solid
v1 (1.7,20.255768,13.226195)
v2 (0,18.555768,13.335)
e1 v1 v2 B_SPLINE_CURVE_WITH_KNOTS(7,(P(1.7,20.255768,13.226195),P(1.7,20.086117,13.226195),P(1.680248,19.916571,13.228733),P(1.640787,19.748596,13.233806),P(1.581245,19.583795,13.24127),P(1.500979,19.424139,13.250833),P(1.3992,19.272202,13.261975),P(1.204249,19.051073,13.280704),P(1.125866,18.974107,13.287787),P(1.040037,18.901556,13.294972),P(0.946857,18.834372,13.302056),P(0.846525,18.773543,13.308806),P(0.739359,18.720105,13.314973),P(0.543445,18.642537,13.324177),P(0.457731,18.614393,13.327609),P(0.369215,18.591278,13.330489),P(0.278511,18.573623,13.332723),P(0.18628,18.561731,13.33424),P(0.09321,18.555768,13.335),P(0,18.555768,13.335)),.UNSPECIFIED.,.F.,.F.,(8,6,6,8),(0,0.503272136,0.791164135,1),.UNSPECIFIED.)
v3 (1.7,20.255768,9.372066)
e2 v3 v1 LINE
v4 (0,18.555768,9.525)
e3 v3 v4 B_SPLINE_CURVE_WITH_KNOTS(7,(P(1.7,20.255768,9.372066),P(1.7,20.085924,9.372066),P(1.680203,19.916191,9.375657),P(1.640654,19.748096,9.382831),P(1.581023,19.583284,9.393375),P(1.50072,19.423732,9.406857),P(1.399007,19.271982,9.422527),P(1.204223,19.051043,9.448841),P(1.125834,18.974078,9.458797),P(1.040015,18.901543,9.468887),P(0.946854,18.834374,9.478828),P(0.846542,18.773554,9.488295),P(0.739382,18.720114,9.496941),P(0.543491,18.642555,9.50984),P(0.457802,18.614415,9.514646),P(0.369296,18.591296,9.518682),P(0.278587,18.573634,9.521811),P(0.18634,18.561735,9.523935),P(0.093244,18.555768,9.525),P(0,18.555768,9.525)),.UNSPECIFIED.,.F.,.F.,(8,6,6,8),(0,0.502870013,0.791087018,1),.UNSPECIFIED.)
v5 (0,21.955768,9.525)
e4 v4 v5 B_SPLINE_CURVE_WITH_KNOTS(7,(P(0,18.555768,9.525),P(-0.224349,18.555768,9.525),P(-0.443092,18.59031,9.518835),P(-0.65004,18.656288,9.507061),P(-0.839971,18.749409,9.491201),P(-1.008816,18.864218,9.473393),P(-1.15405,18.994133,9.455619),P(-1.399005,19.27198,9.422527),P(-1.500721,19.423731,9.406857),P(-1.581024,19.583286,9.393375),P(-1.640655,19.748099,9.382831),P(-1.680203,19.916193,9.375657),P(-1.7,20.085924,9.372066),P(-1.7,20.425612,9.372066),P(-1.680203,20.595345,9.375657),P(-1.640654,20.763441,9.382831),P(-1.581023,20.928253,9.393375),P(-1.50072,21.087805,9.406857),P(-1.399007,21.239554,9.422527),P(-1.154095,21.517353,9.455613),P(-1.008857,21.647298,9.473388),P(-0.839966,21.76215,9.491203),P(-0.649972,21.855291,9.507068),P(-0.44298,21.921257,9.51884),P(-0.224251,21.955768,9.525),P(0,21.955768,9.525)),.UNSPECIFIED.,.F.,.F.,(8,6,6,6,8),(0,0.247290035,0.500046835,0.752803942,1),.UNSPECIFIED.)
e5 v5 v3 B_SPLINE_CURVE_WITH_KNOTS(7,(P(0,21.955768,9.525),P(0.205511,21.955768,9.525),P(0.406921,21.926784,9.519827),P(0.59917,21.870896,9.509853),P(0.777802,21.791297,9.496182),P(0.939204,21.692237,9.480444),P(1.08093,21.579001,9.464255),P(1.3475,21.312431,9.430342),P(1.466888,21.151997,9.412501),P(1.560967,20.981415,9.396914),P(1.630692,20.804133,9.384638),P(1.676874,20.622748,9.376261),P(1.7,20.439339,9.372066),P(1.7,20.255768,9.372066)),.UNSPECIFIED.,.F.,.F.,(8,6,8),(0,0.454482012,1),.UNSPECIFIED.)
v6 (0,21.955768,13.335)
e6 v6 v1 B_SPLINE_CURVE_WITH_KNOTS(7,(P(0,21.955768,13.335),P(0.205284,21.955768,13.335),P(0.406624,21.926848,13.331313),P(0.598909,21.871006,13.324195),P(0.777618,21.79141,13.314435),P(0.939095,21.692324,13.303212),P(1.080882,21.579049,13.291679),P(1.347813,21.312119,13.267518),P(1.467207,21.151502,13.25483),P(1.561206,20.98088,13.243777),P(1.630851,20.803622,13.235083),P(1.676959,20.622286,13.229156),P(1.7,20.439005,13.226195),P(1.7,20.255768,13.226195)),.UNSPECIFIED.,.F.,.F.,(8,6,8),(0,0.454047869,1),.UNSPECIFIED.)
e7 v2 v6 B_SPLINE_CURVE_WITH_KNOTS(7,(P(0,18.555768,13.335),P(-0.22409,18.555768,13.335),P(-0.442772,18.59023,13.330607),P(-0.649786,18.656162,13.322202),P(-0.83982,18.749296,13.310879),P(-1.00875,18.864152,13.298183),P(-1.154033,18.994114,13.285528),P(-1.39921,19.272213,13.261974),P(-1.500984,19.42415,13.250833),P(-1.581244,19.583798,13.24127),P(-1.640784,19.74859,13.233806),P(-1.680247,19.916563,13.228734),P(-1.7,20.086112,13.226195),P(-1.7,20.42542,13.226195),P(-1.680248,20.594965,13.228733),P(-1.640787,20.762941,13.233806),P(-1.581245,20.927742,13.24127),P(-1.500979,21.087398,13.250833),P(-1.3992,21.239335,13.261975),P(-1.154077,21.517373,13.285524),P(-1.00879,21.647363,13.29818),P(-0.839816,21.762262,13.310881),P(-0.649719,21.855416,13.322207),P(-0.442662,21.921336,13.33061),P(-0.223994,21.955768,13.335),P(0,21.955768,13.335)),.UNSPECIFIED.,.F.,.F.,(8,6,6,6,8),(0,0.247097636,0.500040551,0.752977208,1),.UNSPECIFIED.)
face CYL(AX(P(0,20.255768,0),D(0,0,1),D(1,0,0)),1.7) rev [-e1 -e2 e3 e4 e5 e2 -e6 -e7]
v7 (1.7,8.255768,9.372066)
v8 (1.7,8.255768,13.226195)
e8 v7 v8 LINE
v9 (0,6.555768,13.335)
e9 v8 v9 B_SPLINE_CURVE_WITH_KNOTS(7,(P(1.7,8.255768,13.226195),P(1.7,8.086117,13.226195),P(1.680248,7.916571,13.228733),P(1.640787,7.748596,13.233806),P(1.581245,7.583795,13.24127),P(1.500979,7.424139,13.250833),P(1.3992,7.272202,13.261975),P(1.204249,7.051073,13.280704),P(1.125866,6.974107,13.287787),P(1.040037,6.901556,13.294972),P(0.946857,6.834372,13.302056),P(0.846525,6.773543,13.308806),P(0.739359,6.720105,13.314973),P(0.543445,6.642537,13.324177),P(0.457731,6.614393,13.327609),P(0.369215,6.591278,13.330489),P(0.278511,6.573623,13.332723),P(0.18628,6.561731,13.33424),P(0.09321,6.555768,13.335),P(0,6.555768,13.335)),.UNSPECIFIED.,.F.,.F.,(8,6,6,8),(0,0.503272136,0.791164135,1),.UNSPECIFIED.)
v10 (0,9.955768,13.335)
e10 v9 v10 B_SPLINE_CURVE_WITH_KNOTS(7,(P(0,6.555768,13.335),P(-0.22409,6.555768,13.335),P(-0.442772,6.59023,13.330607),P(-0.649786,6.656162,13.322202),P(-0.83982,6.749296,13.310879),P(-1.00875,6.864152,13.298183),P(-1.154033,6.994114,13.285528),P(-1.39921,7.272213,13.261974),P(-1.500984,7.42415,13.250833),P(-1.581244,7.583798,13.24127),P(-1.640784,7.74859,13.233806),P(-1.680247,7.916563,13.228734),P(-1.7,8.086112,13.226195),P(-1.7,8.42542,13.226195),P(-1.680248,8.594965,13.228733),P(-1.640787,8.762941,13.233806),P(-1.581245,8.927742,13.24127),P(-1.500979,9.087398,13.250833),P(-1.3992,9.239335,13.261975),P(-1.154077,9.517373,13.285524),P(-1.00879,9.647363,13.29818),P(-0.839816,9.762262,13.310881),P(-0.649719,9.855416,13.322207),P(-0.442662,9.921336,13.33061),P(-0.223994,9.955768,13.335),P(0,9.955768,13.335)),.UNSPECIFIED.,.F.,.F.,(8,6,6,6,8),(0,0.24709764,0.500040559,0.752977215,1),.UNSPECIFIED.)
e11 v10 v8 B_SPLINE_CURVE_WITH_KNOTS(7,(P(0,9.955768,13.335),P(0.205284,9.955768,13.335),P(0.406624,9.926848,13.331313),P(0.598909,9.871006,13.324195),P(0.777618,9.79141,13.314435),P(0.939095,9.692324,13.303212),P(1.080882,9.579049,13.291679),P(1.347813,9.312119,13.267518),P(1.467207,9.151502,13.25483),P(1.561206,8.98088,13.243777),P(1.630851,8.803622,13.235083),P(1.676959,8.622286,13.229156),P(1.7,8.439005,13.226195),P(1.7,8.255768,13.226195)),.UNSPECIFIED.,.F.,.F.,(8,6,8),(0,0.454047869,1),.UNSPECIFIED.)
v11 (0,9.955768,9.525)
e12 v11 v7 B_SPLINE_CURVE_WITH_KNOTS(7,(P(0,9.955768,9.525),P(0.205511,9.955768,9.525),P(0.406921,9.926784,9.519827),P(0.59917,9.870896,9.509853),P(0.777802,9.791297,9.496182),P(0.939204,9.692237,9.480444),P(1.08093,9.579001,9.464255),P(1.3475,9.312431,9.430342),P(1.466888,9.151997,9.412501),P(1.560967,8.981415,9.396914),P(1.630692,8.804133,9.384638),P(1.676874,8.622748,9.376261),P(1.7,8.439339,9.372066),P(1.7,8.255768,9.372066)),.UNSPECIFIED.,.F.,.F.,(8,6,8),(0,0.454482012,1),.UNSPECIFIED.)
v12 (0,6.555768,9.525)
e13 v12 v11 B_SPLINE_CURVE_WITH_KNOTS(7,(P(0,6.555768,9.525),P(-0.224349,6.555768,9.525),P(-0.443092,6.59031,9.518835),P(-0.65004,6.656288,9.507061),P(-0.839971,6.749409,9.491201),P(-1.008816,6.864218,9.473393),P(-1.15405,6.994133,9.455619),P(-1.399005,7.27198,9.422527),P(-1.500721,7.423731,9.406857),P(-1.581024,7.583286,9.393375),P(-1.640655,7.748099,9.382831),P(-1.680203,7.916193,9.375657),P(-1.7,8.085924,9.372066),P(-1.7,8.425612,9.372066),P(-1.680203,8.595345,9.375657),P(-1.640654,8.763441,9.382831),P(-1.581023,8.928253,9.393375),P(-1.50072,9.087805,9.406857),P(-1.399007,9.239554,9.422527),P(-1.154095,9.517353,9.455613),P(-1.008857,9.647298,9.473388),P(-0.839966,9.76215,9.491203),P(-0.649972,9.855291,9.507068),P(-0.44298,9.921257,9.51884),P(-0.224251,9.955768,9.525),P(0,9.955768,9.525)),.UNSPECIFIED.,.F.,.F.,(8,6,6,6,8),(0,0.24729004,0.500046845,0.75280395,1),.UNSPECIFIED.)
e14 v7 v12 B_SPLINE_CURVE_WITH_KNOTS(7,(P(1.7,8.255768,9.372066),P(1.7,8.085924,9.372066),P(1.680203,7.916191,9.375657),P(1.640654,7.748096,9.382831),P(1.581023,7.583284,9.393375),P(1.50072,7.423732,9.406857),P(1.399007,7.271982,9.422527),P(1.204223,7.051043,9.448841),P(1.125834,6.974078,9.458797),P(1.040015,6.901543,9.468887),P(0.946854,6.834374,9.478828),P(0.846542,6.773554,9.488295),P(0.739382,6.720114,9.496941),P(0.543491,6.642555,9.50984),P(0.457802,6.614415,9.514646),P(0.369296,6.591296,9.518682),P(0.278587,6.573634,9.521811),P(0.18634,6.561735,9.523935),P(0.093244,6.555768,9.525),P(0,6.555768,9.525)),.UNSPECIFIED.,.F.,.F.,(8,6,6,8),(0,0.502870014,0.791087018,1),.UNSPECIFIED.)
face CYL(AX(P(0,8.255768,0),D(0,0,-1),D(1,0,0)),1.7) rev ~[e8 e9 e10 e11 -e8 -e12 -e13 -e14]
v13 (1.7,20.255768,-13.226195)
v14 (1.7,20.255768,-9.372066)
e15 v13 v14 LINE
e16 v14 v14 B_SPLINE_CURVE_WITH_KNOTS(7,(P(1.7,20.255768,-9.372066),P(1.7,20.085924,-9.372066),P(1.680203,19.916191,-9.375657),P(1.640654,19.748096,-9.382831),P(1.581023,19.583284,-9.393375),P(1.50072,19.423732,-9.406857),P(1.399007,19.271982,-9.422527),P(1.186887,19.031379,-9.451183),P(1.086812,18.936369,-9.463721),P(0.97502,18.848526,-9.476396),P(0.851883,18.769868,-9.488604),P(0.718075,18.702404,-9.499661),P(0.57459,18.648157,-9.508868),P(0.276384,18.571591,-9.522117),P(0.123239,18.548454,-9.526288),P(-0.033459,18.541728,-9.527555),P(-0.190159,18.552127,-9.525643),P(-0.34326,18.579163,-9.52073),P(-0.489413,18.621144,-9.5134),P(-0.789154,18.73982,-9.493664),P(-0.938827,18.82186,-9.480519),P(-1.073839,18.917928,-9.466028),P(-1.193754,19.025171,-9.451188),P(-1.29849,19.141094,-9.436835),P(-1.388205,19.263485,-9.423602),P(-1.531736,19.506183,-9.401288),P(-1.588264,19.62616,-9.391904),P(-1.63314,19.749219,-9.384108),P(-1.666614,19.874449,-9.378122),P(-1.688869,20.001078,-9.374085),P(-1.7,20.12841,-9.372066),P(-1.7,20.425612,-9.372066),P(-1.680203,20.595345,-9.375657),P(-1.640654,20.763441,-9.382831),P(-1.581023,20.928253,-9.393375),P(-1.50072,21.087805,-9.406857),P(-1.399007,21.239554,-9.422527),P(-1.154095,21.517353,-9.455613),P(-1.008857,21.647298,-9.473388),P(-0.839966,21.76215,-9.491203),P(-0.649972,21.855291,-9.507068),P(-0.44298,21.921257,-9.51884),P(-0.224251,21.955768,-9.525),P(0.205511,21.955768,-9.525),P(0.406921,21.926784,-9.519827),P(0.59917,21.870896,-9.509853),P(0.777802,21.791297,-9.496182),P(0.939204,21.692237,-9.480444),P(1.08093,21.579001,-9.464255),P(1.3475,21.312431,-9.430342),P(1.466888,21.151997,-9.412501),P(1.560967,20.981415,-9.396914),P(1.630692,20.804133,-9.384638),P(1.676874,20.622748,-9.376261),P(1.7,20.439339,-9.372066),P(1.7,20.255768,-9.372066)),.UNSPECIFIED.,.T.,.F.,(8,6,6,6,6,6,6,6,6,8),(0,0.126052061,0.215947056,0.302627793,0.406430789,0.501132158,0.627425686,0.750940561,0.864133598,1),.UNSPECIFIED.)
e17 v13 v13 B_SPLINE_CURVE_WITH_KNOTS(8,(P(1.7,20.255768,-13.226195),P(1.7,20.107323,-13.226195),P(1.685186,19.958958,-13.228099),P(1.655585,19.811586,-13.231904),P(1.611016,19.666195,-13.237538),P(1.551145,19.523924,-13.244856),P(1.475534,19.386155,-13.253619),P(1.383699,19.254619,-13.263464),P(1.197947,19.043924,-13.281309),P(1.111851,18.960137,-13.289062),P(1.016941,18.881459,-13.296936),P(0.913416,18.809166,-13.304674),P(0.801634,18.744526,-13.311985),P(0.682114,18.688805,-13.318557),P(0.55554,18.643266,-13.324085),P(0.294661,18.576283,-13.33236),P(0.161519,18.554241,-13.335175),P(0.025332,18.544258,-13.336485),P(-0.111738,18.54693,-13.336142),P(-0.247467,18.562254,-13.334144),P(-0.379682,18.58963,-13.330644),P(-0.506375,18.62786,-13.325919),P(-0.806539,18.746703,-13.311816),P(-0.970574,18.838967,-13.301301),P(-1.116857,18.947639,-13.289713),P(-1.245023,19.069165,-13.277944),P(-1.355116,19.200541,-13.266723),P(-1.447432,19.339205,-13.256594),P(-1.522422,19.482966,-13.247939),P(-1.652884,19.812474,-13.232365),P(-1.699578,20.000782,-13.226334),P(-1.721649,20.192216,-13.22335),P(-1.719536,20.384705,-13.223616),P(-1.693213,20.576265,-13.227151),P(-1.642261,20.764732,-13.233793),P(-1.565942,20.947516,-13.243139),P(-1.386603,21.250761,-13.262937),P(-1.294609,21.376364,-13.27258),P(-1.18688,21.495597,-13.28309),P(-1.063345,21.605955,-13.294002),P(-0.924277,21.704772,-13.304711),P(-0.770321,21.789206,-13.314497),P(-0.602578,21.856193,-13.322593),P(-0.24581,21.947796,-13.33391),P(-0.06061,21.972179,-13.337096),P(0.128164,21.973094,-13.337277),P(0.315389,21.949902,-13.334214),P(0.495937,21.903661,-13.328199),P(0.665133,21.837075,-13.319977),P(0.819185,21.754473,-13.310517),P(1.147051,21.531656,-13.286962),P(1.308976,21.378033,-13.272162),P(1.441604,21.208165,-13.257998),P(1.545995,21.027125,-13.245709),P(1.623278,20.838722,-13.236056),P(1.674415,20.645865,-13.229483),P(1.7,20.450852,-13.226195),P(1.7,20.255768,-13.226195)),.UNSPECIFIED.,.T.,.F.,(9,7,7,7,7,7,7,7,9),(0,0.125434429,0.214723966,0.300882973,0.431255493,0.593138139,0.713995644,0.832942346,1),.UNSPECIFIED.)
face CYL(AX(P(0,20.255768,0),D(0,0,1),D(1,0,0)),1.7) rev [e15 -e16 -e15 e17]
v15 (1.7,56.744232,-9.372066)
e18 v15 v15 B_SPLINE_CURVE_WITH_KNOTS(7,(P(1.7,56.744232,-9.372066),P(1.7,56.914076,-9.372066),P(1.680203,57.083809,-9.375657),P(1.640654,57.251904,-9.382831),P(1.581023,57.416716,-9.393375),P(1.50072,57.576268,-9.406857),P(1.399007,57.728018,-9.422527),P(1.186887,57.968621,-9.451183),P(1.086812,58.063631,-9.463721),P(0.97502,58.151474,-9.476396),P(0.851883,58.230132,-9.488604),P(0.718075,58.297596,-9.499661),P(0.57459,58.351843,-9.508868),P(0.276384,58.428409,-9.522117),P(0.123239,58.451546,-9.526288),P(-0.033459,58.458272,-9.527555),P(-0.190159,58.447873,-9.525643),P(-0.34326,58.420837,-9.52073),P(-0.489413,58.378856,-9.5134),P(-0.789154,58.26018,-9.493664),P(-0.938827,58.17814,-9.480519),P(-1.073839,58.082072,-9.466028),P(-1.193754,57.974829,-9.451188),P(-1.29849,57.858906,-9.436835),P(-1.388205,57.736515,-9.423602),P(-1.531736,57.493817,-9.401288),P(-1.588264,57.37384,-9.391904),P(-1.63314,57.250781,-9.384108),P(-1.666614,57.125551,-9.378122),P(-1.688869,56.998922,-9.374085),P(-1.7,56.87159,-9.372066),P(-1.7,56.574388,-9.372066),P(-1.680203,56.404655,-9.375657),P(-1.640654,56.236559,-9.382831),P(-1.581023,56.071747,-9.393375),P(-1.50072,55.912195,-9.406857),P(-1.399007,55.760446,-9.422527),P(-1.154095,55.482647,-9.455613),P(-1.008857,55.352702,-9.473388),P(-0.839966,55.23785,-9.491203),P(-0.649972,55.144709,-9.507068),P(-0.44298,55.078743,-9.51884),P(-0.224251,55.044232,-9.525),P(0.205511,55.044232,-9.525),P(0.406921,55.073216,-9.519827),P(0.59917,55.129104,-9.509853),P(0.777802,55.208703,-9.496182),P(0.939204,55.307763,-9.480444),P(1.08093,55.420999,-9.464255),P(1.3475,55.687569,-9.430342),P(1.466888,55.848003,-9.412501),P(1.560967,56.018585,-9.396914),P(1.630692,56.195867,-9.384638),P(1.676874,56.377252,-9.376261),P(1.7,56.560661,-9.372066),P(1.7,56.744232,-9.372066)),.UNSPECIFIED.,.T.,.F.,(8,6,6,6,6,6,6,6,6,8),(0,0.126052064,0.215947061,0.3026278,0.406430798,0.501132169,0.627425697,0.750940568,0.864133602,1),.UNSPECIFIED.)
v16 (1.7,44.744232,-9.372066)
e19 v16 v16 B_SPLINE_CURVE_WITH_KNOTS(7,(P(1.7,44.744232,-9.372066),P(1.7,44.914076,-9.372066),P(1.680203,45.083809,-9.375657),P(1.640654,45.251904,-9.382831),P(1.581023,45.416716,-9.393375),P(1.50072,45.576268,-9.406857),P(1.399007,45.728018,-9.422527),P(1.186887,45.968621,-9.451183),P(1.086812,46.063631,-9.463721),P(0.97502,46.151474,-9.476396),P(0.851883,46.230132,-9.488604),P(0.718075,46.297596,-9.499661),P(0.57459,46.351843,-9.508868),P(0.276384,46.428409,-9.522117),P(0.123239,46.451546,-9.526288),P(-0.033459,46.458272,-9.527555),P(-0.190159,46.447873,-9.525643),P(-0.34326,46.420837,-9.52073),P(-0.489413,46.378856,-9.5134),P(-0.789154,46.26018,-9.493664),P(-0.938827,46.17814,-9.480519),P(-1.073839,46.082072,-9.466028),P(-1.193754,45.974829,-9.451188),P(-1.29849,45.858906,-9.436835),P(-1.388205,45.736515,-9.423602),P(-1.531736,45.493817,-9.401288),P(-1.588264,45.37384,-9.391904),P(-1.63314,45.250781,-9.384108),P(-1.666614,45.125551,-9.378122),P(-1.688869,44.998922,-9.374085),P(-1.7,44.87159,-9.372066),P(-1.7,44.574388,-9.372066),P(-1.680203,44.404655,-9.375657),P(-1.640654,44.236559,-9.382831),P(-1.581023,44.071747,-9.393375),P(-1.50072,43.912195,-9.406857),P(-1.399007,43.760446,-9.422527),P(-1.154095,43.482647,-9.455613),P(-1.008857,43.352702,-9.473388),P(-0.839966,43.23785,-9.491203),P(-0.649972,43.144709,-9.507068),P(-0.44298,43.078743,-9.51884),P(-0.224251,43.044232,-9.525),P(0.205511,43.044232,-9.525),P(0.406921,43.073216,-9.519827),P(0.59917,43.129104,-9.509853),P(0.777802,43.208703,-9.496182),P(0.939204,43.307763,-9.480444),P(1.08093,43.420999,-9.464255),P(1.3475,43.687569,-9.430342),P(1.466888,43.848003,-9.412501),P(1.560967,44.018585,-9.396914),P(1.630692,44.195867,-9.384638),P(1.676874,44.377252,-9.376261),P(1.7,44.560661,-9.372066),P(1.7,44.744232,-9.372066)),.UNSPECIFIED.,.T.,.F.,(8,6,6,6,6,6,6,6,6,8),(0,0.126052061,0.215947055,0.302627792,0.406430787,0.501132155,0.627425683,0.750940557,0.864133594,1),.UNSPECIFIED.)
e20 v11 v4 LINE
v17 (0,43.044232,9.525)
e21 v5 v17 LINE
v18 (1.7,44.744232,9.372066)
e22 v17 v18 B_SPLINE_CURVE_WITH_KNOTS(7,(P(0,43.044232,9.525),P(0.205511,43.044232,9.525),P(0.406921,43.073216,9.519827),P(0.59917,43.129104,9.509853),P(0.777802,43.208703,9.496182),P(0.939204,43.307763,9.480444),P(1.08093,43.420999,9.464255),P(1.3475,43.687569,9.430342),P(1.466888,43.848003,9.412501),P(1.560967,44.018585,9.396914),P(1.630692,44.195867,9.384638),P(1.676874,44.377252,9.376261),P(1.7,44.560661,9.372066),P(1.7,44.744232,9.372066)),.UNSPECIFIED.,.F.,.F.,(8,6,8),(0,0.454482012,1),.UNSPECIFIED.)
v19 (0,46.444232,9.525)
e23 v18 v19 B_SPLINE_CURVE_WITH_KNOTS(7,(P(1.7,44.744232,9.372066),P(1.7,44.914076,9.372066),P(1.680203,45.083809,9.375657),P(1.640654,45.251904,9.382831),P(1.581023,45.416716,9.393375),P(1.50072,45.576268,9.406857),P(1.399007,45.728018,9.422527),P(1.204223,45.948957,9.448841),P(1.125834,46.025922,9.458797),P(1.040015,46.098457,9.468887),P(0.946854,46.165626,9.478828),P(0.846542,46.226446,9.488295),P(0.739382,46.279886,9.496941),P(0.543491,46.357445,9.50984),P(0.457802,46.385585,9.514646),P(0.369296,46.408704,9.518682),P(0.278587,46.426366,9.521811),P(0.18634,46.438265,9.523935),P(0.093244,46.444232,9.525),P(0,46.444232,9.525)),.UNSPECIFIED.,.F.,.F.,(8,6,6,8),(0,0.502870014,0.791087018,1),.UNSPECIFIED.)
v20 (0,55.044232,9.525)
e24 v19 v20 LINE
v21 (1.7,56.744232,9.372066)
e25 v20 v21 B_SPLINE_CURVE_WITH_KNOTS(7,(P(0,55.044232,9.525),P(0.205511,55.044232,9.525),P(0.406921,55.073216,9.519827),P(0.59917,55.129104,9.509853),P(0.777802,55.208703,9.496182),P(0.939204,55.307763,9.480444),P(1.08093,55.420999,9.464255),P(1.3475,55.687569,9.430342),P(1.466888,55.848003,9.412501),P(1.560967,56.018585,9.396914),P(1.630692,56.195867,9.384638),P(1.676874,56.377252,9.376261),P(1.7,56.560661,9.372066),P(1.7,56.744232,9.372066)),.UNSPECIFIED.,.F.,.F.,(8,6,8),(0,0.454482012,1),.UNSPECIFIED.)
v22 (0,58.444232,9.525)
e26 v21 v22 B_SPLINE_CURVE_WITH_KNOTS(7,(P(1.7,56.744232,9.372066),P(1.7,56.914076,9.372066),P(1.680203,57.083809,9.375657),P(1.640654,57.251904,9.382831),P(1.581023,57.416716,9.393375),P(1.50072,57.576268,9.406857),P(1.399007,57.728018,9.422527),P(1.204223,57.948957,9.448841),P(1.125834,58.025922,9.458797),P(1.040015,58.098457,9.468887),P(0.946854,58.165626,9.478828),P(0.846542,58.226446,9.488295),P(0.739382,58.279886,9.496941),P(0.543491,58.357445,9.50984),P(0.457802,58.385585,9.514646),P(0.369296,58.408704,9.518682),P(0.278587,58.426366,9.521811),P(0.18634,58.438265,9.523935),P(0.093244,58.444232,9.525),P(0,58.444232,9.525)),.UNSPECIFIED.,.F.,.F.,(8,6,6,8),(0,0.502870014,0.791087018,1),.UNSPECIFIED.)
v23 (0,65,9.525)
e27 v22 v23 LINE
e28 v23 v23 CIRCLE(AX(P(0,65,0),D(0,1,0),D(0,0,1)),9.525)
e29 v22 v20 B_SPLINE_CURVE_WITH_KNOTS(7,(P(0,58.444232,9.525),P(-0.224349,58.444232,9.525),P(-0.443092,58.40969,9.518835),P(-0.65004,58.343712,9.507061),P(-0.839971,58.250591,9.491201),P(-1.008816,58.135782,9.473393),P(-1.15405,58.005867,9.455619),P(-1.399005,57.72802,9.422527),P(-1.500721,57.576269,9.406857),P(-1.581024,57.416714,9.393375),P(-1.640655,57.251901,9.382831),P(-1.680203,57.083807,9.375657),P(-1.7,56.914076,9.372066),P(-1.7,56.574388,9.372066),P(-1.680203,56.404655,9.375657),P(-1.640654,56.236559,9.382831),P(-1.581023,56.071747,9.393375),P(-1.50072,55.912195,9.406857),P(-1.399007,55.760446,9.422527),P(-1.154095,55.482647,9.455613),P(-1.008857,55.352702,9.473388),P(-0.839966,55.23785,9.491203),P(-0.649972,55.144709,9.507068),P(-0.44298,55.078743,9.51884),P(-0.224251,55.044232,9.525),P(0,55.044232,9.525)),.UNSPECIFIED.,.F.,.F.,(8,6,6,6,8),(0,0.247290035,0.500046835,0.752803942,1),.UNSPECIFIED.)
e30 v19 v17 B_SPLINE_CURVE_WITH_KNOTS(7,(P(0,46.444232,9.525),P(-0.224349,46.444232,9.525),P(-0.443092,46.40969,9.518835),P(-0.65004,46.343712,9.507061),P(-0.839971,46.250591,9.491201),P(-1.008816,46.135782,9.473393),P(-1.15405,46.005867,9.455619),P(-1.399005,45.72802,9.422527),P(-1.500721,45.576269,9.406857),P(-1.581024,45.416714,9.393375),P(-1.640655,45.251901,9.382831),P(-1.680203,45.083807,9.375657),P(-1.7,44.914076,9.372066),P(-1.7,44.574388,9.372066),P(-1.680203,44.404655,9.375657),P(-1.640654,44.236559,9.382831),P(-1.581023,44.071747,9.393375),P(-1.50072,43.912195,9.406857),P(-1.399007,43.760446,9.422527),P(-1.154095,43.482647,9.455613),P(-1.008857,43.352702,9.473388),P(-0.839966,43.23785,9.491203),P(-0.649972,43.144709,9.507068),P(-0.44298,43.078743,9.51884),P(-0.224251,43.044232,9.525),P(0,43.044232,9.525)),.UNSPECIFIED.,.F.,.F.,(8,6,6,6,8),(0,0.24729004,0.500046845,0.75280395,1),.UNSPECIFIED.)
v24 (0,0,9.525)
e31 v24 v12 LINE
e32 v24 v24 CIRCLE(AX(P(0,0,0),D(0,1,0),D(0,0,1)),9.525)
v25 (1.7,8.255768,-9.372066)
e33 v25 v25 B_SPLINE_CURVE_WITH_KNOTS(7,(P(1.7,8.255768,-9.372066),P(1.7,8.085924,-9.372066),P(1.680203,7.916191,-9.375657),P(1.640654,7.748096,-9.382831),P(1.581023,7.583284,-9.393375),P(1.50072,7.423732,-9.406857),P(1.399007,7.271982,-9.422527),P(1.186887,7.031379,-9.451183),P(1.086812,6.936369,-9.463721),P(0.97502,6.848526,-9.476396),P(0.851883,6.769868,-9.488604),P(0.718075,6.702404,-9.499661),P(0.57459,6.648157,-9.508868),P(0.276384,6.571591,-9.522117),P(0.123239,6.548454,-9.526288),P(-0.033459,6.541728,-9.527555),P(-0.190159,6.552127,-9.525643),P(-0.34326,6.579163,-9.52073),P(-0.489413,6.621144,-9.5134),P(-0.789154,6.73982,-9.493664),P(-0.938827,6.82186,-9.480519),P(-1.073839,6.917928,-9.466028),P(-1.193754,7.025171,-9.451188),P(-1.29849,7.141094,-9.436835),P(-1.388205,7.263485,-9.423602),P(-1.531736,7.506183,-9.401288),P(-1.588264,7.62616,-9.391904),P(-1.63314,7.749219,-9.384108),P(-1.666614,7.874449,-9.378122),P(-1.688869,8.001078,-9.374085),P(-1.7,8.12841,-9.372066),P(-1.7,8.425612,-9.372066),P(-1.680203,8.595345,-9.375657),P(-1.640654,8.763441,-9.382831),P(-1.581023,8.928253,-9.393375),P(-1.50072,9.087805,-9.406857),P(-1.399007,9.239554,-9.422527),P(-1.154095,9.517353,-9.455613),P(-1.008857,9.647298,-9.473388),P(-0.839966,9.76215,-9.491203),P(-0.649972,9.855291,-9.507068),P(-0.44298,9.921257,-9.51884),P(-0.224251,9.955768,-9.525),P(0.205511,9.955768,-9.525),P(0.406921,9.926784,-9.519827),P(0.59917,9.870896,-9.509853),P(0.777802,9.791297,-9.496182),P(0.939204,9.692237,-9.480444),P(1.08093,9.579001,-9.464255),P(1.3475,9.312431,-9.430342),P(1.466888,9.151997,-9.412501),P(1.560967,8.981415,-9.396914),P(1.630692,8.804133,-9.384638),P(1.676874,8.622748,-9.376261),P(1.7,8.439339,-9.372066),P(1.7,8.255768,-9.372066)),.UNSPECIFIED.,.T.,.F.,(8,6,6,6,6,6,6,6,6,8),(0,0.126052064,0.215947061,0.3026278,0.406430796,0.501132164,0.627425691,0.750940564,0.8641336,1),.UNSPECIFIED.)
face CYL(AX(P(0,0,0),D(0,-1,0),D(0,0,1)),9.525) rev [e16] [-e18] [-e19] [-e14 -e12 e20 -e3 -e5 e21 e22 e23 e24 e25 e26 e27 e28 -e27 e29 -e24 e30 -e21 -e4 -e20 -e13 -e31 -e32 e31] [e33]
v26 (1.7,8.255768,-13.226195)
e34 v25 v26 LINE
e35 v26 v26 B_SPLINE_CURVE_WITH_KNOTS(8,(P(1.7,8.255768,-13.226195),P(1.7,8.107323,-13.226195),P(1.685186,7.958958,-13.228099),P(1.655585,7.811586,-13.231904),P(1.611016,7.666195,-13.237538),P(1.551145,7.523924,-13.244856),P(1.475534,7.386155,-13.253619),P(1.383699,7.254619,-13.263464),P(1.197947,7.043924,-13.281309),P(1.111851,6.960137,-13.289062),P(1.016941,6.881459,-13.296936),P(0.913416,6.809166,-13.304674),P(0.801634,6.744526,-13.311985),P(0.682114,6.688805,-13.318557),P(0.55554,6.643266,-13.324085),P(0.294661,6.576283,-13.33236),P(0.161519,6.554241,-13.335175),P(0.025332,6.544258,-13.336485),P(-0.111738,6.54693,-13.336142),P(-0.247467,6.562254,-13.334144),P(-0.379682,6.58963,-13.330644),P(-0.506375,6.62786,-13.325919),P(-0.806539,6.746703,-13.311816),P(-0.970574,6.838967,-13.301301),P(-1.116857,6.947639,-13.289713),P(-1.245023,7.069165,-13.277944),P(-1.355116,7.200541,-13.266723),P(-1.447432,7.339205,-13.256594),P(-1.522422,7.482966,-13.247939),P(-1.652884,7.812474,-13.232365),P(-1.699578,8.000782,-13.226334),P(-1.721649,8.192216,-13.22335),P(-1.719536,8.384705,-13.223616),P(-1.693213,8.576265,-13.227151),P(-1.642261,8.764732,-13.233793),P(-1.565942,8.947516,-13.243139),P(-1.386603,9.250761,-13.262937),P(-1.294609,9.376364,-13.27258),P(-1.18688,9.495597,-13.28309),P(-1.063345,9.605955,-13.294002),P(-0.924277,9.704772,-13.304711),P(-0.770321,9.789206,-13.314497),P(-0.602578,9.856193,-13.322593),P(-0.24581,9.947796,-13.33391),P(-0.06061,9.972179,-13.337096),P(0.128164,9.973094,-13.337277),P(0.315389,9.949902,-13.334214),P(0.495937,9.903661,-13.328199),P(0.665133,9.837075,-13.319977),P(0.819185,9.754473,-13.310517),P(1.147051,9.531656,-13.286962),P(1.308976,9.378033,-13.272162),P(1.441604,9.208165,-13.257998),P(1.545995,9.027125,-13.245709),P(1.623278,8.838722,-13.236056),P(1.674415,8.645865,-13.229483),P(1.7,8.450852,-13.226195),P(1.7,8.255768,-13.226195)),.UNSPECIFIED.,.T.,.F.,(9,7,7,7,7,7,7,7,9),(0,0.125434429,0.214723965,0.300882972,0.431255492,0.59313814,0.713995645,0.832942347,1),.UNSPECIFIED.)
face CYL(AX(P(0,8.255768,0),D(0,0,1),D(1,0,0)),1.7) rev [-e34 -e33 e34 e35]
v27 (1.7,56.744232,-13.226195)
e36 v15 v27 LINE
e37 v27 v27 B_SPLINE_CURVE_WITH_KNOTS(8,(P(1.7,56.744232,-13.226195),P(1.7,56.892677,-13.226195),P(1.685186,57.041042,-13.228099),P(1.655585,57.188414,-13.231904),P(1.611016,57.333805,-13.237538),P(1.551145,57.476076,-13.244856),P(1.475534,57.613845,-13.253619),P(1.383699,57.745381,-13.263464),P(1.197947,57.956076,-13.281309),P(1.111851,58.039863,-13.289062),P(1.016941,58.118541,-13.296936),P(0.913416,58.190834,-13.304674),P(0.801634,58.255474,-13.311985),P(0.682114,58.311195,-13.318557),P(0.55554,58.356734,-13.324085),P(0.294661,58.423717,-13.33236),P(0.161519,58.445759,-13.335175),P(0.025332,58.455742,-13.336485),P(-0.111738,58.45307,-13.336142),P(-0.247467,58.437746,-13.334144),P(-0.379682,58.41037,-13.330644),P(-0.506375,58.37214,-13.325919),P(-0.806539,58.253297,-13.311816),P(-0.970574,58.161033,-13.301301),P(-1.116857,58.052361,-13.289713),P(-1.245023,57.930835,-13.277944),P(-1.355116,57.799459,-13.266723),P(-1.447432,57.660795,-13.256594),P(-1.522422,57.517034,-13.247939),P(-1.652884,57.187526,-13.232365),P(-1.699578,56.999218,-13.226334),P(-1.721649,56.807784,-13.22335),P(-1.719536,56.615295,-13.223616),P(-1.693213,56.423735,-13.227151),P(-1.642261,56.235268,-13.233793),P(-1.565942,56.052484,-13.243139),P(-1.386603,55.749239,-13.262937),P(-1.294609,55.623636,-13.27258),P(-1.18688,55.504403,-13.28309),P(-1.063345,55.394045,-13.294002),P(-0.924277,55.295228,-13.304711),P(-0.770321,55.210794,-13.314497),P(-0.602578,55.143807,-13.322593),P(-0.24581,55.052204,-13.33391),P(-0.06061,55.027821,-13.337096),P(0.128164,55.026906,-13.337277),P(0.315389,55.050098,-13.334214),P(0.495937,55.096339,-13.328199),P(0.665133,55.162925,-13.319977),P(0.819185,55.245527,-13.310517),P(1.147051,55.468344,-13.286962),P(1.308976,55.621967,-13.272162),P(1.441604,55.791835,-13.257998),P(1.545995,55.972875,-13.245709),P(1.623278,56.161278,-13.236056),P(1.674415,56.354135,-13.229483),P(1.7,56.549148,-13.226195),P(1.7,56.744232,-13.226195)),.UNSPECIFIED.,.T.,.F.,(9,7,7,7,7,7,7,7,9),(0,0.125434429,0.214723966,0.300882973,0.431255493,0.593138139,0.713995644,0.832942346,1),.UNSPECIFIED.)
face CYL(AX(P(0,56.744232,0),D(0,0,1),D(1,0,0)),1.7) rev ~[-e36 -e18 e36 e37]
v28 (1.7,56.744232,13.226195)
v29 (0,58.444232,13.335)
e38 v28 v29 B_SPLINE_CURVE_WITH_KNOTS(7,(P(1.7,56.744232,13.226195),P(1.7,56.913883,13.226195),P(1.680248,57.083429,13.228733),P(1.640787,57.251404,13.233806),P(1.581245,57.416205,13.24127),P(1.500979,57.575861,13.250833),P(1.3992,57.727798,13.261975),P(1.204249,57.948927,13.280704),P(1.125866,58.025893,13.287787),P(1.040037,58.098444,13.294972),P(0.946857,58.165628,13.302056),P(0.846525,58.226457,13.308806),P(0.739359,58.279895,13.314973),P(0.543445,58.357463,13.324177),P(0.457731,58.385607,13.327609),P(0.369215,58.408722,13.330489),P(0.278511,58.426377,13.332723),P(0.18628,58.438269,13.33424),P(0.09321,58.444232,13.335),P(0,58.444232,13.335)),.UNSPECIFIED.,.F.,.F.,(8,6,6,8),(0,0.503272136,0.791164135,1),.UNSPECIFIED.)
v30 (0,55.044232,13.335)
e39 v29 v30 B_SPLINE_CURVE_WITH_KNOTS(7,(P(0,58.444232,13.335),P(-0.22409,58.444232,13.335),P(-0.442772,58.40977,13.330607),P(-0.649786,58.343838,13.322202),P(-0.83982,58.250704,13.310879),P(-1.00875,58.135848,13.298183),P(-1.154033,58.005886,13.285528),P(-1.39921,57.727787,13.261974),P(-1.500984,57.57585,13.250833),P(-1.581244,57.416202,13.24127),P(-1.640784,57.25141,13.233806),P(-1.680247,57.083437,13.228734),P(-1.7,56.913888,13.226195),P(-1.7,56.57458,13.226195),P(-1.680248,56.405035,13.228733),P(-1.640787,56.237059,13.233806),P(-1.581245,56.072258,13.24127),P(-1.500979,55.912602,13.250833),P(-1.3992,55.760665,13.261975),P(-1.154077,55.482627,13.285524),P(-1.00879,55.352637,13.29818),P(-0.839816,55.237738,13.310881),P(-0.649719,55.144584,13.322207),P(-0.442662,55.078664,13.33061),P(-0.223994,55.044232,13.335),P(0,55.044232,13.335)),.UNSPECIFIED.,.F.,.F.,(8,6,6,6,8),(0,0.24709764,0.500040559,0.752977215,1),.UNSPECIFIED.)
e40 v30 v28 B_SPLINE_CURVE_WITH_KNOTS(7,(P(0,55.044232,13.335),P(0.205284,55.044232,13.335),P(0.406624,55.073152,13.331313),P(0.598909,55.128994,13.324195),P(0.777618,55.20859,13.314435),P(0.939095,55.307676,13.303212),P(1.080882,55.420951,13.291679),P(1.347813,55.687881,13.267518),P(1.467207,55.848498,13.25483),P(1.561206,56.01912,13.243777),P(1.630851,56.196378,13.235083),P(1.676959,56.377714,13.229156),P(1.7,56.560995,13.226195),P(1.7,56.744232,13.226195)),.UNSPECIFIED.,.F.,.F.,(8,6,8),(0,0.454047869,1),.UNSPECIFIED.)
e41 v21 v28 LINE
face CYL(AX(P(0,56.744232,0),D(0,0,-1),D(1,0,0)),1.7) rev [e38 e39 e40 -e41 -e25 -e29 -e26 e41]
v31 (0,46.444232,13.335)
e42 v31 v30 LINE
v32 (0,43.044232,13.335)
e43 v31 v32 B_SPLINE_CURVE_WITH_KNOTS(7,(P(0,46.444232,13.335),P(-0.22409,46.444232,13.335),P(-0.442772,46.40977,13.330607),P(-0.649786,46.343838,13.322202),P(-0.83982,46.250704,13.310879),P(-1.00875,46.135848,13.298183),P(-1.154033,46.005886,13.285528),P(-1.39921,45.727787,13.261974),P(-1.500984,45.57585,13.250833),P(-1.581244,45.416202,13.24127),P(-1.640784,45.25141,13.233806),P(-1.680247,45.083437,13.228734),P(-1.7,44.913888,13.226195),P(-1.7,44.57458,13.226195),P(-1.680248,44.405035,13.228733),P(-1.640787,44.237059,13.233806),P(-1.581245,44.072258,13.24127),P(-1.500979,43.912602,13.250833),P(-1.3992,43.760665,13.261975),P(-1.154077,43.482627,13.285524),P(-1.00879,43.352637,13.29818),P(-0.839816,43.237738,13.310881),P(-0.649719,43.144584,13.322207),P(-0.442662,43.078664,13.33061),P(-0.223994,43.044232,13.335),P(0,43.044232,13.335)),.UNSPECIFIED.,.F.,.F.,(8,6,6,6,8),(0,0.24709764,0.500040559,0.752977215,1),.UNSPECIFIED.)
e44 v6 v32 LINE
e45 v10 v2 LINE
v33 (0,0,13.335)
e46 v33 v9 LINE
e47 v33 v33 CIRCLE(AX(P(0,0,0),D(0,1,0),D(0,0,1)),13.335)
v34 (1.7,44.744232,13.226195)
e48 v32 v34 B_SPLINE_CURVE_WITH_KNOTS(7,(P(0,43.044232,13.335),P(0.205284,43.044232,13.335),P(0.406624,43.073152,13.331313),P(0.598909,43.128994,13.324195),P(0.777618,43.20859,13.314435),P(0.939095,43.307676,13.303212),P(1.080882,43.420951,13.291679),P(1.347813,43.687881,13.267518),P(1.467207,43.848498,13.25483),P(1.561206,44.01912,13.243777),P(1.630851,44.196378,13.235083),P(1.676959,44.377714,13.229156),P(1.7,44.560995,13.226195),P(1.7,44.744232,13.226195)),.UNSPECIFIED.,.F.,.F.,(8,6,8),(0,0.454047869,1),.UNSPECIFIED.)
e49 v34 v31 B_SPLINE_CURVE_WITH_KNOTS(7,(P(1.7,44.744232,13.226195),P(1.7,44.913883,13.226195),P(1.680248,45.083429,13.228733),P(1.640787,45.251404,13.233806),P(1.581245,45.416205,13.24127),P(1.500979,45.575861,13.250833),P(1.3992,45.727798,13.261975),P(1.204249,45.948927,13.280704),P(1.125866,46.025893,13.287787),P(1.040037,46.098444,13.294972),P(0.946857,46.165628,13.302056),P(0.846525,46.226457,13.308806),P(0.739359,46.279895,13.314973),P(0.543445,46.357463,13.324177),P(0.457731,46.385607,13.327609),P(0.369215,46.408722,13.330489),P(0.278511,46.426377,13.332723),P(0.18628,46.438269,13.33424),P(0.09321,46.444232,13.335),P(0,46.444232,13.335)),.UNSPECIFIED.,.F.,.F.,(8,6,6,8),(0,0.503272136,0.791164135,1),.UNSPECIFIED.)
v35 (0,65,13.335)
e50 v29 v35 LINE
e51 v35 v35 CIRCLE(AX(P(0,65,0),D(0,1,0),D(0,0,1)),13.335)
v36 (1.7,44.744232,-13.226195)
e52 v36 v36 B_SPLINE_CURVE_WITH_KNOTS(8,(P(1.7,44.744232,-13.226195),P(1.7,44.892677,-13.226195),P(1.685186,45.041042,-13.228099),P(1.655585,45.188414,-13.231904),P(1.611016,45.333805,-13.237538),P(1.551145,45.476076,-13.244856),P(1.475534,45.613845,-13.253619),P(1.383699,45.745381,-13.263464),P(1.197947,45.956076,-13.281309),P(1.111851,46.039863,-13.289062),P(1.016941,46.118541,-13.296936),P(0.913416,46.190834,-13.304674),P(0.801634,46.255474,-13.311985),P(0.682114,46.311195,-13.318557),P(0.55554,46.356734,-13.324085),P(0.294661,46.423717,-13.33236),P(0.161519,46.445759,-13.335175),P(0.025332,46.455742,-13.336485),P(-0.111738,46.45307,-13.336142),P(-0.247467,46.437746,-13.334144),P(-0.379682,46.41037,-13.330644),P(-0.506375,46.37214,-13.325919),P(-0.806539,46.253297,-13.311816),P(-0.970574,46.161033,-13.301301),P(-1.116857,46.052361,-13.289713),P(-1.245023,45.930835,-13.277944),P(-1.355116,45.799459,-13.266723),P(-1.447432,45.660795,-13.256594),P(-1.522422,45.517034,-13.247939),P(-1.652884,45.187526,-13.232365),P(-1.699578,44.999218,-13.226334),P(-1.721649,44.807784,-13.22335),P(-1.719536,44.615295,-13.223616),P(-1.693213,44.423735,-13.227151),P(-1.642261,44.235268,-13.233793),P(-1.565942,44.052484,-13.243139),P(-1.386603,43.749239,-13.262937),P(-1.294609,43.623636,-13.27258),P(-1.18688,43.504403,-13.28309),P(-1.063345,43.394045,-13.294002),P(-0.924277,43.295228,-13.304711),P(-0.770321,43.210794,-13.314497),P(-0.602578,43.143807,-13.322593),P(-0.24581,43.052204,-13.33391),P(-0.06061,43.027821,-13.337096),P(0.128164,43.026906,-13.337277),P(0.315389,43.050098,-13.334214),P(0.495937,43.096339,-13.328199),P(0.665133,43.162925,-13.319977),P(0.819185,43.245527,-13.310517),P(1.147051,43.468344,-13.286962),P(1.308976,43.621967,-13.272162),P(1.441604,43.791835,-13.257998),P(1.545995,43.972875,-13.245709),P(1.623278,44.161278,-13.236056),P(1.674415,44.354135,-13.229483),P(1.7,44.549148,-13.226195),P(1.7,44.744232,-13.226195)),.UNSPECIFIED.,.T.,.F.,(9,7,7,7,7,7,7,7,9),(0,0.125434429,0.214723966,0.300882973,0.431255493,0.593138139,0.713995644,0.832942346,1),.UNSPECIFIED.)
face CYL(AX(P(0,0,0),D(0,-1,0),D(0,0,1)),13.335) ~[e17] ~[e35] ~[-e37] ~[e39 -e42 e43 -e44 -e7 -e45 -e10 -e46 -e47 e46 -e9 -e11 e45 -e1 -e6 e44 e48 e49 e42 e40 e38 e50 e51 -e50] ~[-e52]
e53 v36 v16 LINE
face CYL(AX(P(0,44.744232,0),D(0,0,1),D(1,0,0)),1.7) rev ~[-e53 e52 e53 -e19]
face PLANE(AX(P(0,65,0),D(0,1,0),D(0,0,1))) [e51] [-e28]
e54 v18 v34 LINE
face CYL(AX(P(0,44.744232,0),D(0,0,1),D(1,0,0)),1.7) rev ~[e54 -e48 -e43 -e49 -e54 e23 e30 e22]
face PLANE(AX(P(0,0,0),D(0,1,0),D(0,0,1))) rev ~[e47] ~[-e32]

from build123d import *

# Parameters (mm, degrees)
SKETCH1_R           = 13.335
SKETCH1_R_2         = 9.525
BOSS_EXTRUDE1_DEPTH = 65
SKETCH4_R           = 1.7
CUT_EXTRUDE1_DEPTH  = 68.680458406


with BuildPart() as part:
    # Sketch1 → Boss-Extrude1 (new body)
    with BuildSketch(Plane(origin=(0, 0, 0), x_dir=(1, 0, 0), z_dir=(0, 1, 0))):
        with Locations(Location((0, 0, 0), (0, 0, 270))):
            Circle(SKETCH1_R)
        with Locations(Location((0, 0, 0), (0, 0, 270))):
            Circle(SKETCH1_R_2, mode=Mode.SUBTRACT)
    extrude(amount=BOSS_EXTRUDE1_DEPTH)

    # Sketch4 → Cut-Extrude1 (cut, symmetric)
    with BuildSketch(Plane.XY):
        with Locations((0, 56.744231704)):
            Circle(SKETCH4_R)
        with Locations((0, 44.744231704)):
            Circle(SKETCH4_R)
    cut_extrude1 = extrude(amount=CUT_EXTRUDE1_DEPTH, both=True, mode=Mode.SUBTRACT)

    # Mirror2: Cut-Extrude1 across plane
    add(cut_extrude1.mirror(Plane.ZX.offset(32.5)), mode=Mode.SUBTRACT)


solid = part.part
